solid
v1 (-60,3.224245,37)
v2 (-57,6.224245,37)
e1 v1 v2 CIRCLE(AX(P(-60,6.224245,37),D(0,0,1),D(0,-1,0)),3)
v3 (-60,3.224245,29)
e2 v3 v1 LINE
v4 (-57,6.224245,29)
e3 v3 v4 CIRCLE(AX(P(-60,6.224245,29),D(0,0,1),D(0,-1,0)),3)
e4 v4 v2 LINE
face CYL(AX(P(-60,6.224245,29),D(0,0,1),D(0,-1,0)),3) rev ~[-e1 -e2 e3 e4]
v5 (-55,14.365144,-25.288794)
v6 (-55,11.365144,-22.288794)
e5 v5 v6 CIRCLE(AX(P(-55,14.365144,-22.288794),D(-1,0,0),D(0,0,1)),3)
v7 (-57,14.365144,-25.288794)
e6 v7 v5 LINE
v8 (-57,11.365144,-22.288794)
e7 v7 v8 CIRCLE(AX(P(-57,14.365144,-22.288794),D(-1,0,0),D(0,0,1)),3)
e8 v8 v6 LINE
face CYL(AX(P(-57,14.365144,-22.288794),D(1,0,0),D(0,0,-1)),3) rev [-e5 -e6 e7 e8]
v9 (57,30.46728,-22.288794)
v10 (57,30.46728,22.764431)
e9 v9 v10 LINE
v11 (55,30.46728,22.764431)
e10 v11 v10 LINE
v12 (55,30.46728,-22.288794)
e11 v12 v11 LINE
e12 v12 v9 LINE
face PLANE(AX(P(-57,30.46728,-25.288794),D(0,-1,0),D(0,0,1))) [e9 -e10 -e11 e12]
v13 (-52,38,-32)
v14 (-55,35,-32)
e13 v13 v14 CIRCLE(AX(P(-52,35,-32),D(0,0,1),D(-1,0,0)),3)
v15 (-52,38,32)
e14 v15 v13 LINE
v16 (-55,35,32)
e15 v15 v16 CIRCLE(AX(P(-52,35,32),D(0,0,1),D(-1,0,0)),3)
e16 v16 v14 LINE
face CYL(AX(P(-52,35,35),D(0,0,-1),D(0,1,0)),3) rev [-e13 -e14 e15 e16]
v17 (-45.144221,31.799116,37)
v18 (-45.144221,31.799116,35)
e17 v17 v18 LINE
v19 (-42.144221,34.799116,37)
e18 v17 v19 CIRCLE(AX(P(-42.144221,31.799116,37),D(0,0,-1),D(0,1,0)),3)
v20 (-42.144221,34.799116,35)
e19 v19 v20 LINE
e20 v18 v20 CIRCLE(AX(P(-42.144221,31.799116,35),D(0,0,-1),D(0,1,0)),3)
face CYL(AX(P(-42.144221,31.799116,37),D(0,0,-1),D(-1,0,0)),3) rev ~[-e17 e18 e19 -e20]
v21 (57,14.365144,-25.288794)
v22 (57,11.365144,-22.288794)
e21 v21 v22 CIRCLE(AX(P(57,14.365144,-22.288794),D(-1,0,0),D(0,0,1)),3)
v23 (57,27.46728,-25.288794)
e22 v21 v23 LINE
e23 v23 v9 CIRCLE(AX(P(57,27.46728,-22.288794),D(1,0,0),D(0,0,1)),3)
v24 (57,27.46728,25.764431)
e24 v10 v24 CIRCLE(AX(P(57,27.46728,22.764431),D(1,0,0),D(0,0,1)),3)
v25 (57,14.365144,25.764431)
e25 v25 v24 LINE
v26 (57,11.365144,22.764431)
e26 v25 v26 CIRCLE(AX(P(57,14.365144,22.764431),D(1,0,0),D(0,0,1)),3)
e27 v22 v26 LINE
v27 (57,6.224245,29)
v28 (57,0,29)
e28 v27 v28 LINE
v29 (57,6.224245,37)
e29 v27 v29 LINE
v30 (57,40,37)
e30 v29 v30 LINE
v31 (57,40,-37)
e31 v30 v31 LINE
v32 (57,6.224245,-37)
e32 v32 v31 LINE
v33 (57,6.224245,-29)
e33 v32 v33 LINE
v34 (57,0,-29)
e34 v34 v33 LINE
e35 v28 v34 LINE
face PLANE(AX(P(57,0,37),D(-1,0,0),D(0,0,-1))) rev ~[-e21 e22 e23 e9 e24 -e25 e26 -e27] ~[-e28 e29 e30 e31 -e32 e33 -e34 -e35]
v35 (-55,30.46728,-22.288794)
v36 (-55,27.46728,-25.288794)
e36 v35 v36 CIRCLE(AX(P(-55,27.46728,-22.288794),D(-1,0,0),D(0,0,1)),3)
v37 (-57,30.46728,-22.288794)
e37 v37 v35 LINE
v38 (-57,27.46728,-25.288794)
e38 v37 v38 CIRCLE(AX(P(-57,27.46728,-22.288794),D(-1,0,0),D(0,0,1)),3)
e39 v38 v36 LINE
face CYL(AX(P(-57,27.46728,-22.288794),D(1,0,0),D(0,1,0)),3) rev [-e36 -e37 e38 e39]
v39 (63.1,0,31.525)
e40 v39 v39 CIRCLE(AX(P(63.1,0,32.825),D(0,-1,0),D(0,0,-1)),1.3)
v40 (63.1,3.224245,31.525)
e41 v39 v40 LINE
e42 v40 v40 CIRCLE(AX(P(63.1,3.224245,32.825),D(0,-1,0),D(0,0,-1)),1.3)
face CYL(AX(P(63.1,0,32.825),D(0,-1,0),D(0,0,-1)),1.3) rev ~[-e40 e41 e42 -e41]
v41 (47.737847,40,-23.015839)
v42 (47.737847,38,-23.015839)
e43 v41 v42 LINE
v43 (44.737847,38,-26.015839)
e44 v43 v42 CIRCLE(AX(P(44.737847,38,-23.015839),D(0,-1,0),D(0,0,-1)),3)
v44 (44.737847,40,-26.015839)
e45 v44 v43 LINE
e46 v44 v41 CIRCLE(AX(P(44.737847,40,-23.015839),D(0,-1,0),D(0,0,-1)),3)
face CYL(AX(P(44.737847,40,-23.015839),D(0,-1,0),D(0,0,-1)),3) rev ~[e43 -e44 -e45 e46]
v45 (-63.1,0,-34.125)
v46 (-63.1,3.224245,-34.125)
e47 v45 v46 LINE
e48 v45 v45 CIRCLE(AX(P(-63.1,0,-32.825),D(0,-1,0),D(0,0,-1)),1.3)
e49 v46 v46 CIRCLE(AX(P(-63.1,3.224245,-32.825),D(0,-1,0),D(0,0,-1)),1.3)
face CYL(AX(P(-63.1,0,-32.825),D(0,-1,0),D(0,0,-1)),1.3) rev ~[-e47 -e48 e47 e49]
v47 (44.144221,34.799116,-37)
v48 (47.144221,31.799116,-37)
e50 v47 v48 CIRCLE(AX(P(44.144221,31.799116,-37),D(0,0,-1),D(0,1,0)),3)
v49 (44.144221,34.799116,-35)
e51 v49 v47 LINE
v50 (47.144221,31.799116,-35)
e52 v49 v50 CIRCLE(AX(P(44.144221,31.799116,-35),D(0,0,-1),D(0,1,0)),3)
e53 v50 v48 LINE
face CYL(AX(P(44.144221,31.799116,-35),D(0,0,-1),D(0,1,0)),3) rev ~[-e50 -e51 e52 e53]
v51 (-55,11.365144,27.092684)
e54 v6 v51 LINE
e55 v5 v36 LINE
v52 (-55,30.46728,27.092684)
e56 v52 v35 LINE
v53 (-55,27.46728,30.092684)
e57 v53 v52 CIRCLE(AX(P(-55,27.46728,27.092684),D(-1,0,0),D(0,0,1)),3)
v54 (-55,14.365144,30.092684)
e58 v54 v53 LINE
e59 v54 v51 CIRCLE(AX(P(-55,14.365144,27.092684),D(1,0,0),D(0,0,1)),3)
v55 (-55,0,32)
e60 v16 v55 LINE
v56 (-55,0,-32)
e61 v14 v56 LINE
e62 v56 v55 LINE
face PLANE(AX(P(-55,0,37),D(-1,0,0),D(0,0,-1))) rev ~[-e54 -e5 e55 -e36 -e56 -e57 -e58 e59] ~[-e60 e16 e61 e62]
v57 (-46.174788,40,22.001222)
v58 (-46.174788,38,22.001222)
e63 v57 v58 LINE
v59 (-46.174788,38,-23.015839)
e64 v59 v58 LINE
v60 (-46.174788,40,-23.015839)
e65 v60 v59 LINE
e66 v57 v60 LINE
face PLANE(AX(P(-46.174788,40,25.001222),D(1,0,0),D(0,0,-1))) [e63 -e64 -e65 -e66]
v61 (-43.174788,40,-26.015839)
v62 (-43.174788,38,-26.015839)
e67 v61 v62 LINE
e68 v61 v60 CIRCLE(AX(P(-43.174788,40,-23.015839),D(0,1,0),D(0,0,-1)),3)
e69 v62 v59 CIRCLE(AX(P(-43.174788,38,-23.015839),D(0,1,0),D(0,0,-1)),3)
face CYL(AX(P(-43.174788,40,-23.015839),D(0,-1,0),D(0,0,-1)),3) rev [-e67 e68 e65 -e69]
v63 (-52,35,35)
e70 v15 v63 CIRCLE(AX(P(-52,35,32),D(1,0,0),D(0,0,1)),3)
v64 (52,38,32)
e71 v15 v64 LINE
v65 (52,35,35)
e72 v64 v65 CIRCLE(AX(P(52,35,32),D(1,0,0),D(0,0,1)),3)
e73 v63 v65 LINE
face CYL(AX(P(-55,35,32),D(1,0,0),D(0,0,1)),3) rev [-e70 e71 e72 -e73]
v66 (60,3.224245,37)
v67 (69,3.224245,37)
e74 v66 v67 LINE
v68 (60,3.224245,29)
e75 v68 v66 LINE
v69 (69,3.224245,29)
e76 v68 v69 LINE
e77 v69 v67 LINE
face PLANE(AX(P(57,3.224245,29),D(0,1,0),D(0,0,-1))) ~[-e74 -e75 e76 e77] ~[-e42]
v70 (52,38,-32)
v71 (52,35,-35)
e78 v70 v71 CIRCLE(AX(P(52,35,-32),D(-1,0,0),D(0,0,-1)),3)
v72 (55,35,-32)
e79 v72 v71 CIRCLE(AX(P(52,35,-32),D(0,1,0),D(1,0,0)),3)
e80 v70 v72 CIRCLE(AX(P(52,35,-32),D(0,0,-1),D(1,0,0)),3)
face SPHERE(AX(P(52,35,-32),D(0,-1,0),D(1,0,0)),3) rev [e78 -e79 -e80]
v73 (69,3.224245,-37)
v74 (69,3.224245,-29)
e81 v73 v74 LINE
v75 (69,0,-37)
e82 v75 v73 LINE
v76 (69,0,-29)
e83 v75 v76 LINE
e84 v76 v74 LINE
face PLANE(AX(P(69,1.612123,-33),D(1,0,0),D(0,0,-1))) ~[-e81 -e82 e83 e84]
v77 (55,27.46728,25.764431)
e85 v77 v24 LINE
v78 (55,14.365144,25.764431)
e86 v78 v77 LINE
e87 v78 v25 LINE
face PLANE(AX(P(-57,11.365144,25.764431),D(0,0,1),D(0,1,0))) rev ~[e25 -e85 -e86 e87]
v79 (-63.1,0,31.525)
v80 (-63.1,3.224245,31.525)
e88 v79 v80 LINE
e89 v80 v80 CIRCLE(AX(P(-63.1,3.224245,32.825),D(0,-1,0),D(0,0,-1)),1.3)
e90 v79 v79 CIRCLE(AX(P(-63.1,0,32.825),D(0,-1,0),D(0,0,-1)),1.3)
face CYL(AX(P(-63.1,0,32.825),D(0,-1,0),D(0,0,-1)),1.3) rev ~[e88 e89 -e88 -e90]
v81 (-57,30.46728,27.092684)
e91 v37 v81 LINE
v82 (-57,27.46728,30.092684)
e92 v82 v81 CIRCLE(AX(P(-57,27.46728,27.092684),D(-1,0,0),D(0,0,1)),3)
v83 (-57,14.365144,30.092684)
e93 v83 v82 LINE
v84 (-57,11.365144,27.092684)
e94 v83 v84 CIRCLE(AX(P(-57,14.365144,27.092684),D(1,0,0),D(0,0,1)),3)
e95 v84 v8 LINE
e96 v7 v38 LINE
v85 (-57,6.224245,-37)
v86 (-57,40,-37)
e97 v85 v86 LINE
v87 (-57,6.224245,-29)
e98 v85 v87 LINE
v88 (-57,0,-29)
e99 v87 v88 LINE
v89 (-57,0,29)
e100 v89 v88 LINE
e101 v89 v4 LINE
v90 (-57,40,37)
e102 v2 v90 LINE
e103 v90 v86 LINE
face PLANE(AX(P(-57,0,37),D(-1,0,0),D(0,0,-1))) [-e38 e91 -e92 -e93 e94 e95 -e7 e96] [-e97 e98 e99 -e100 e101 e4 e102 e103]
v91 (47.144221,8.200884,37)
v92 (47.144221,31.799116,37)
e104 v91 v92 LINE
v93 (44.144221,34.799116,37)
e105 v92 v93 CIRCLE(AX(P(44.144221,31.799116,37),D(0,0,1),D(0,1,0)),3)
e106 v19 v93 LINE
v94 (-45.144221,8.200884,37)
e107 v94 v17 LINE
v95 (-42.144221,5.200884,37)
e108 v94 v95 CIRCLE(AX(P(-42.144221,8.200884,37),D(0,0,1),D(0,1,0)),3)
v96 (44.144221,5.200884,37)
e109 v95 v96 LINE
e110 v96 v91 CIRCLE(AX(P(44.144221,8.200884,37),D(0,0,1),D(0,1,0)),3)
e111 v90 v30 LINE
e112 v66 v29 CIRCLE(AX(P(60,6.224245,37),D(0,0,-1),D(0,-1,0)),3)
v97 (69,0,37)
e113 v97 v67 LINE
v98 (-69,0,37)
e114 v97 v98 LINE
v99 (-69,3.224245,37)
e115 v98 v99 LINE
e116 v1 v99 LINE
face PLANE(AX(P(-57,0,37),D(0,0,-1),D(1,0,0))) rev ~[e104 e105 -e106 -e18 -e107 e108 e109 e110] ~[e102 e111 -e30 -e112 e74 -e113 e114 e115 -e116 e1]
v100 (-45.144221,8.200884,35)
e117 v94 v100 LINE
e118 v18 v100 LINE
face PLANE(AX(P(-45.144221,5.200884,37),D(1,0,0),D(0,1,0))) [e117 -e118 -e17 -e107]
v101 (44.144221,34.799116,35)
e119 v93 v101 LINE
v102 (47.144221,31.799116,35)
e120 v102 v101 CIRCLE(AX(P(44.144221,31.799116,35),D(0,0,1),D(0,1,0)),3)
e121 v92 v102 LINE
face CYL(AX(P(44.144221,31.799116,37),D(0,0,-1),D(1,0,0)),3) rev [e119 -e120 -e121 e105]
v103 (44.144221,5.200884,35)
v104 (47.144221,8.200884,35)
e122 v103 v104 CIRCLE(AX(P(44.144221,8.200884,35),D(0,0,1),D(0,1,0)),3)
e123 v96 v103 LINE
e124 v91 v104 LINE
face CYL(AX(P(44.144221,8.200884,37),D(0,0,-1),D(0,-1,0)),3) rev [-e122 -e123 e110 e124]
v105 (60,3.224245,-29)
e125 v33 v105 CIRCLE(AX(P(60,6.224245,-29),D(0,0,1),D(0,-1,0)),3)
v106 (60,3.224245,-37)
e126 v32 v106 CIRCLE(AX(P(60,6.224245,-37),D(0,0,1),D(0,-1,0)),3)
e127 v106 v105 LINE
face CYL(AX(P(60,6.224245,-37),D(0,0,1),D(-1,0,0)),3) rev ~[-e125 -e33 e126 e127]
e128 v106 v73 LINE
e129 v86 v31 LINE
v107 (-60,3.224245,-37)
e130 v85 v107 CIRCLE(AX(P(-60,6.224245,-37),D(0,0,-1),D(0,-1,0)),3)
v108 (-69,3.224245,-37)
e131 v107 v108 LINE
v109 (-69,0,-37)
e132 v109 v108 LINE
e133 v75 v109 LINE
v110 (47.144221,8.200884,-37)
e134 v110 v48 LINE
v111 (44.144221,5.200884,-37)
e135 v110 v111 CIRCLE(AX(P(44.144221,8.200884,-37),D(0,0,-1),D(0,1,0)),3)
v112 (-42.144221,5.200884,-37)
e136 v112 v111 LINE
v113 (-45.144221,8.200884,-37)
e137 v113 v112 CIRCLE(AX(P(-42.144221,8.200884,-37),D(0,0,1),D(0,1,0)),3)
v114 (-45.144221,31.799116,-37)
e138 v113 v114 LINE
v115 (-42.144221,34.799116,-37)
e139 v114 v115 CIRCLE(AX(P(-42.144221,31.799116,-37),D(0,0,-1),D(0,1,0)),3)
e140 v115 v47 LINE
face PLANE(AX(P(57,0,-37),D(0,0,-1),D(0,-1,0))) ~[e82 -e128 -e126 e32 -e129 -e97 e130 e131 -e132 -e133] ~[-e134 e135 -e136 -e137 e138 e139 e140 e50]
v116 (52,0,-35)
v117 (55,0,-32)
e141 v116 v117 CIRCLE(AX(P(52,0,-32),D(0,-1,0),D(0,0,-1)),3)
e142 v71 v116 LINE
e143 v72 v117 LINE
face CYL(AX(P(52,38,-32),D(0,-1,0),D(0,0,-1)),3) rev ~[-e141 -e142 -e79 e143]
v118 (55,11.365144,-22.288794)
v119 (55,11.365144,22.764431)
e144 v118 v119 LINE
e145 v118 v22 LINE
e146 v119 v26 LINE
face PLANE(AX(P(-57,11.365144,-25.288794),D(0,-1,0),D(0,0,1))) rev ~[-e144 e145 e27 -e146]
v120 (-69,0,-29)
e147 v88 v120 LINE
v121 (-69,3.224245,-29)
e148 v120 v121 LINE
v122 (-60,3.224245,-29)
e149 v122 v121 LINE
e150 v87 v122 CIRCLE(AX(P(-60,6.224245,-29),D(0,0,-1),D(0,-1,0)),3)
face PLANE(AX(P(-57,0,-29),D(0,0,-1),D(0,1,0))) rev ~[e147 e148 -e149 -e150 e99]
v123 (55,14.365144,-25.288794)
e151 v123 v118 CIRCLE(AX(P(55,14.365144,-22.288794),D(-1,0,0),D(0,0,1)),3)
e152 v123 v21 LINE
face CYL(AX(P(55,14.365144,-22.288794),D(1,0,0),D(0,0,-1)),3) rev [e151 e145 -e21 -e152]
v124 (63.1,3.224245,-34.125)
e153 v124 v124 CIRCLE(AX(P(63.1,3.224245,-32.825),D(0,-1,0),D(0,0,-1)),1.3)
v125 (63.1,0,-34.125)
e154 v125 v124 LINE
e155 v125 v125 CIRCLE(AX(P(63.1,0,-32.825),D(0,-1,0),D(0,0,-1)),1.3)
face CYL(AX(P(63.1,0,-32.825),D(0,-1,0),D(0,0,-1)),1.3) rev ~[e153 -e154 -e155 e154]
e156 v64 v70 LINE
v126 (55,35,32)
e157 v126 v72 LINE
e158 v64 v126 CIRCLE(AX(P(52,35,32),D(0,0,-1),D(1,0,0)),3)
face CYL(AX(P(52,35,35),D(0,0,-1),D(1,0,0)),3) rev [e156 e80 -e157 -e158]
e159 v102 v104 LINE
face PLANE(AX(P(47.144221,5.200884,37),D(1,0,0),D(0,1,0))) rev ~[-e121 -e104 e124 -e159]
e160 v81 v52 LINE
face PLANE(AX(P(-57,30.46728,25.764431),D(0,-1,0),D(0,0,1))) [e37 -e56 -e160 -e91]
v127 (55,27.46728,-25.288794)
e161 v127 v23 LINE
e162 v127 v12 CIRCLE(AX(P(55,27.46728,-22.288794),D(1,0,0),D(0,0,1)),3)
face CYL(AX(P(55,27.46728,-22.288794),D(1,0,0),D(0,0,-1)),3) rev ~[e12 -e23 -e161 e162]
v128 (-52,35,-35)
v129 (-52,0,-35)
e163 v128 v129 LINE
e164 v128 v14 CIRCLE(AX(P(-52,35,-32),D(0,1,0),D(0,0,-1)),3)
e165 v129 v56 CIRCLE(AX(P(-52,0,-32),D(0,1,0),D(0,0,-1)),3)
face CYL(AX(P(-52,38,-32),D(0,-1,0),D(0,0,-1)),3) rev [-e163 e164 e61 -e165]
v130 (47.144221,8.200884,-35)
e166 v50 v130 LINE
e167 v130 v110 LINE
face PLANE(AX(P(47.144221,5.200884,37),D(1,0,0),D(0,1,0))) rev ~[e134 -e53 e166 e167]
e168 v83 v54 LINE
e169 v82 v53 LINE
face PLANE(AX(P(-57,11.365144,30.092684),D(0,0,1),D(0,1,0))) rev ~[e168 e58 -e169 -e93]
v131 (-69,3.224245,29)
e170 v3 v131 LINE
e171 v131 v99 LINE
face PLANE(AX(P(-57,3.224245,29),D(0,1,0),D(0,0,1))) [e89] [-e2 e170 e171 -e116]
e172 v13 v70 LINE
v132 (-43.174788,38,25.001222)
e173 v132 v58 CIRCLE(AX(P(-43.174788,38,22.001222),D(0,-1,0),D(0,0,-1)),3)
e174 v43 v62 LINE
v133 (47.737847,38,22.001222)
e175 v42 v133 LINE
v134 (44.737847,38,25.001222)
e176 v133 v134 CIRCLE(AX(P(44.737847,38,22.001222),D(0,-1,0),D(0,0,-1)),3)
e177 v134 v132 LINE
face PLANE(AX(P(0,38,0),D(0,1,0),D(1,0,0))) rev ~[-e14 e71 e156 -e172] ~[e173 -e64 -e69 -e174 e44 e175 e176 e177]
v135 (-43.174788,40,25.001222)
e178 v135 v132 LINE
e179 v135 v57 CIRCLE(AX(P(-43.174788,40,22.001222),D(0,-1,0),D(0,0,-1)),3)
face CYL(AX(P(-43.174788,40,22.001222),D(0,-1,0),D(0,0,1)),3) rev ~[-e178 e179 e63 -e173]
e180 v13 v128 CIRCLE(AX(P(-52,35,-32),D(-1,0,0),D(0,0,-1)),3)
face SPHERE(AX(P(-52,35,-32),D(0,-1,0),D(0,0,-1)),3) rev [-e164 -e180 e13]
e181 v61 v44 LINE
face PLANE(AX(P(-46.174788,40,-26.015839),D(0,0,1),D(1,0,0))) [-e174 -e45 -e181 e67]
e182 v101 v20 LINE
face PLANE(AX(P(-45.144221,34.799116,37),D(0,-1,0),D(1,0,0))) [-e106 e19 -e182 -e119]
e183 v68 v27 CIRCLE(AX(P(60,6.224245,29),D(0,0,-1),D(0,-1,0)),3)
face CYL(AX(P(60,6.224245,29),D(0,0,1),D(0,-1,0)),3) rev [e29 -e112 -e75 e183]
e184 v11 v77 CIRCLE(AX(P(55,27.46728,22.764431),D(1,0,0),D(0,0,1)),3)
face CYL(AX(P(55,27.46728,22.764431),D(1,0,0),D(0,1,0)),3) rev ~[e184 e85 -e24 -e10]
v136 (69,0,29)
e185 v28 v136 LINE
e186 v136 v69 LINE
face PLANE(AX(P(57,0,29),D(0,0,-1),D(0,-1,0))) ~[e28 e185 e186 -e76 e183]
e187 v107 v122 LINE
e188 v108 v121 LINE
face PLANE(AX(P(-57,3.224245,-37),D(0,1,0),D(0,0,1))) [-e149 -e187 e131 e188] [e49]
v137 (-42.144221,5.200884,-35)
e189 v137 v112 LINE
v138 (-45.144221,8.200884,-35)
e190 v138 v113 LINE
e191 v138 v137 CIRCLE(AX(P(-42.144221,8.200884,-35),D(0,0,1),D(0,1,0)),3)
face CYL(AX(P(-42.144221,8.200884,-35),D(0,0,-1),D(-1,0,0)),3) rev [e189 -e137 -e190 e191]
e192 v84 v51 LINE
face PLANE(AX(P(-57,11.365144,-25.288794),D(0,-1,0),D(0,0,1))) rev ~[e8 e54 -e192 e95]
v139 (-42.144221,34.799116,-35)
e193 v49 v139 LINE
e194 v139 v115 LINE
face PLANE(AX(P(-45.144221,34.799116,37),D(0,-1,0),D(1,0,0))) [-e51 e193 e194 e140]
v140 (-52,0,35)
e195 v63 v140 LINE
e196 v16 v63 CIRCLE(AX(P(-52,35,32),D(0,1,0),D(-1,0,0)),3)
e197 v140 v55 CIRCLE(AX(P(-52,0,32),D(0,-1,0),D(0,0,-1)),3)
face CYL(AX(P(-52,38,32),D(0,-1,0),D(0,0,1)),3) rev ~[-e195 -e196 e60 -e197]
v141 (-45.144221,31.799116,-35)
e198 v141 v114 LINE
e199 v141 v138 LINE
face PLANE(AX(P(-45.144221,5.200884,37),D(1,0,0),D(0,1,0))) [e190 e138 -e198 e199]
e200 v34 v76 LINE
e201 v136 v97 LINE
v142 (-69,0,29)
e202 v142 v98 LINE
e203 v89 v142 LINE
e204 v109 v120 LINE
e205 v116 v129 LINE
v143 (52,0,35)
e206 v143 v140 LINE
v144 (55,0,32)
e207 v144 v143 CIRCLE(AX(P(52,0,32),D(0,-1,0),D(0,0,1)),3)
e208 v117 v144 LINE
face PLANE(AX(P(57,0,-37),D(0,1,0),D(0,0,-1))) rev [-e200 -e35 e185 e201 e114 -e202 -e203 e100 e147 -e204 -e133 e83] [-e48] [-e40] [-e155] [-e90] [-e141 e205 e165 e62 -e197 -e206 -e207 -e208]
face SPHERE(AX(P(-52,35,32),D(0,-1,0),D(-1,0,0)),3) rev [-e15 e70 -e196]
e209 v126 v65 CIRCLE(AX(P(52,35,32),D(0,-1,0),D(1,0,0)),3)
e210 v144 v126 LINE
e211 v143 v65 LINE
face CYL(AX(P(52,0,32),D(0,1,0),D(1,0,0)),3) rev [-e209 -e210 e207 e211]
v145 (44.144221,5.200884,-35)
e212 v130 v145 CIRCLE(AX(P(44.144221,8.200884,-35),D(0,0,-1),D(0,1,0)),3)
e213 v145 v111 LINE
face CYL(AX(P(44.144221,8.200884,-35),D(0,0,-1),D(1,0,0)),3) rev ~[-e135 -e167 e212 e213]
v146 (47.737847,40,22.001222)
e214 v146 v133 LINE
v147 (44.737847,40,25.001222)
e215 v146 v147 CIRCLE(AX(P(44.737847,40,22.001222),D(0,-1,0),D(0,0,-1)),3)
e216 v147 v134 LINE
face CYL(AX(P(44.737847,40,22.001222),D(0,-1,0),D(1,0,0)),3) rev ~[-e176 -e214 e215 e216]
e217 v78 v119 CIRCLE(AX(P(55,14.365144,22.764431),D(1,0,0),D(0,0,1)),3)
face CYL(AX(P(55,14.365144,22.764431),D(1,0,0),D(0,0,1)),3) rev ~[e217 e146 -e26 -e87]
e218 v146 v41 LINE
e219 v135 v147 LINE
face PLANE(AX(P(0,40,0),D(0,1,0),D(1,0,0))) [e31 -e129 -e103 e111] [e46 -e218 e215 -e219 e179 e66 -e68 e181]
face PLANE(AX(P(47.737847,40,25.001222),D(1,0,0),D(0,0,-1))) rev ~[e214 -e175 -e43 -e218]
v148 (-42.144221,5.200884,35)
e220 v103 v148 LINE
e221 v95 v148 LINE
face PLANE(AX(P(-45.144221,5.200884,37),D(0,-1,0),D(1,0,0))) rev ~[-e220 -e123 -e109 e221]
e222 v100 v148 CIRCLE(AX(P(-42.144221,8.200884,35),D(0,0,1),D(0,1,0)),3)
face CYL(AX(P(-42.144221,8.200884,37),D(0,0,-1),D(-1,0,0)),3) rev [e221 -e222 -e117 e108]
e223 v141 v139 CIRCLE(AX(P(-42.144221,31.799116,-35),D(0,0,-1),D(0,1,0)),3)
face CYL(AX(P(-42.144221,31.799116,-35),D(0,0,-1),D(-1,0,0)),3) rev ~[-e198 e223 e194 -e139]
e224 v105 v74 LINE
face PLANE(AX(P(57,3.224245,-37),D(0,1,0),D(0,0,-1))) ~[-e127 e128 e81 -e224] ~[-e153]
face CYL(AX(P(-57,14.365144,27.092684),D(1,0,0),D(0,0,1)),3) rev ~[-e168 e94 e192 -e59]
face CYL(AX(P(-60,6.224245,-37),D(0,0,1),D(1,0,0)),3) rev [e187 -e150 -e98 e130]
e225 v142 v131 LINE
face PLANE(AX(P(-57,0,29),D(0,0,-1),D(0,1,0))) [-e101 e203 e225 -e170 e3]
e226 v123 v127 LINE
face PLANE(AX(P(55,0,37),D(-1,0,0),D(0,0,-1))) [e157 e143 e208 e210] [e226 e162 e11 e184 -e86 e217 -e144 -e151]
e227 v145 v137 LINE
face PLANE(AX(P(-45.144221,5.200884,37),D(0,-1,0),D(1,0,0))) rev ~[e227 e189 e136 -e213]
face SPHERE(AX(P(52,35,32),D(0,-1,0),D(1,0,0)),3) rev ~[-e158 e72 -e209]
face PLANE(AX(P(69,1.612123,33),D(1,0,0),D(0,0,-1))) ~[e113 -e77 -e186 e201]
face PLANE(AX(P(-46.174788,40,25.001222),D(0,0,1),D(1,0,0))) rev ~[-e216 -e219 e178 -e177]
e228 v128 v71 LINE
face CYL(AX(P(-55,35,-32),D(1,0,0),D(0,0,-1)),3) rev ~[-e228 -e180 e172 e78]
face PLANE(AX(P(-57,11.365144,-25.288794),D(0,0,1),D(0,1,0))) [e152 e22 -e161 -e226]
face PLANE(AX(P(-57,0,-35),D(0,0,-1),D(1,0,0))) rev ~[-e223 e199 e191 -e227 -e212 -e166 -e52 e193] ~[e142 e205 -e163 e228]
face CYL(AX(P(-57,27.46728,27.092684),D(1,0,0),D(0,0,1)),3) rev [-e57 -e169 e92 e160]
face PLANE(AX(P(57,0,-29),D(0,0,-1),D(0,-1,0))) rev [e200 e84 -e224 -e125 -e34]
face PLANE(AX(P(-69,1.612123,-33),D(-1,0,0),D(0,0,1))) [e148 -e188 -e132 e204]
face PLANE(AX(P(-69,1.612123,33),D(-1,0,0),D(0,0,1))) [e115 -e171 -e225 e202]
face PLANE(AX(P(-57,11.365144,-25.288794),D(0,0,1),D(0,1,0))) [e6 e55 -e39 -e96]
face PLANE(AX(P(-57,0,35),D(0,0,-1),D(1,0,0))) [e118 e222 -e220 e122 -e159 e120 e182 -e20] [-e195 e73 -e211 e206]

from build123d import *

# Parameters (mm, degrees)
SKETCH1_W           = 114
SKETCH1_H           = 74
BOSS_EXTRUDE1_DEPTH = 40
SHELL1_T            = -2
SKETCH2_W           = 8
SKETCH2_H           = 3.224245312
BOSS_EXTRUDE2_DEPTH = 12
CUT_EXTRUDE1_REACH  = 89.92
SKETCH3_W           = 93.912635184
SKETCH3_H           = 51.017060478
SKETCH4_W           = 51.053224202
SKETCH4_H           = 19.102136622
CUT_EXTRUDE2_DEPTH  = 138.277092044
SKETCH5_W           = 92.288442818
SKETCH5_H           = 29.598231076
CUT_EXTRUDE3_DEPTH  = 109.797977922
SKETCH6_W           = 4.328253691
SKETCH6_H           = 19.102136622
CUT_EXTRUDE4_DEPTH  = 12
FILLET1_R           = 3
SKETCH7_R           = 1.3
CUT_EXTRUDE5_DEPTH  = 12


with BuildPart() as part:
    # Sketch1 → Boss-Extrude1 (new body)
    with BuildSketch(Plane(origin=(0, 0, 0), x_dir=(1, 0, 0), z_dir=(0, 1, 0))):
        Rectangle(SKETCH1_W, SKETCH1_H)
    extrude(amount=BOSS_EXTRUDE1_DEPTH)

    # Shell1
    shell1_openings = [part.faces().sort_by_distance(p)[0] for p in [
        (0, 0, 0),
    ]]
    offset(amount=SHELL1_T, openings=shell1_openings, kind=Kind.INTERSECTION)

    # Sketch2 → Boss-Extrude2 (add)
    with BuildSketch(Plane.ZY.offset(57)):
        with Locations((-33, 1.612122656)):
            Rectangle(SKETCH2_W, SKETCH2_H)
        with Locations((33, 1.612122656)):
            Rectangle(SKETCH2_W, SKETCH2_H)
    boss_extrude2 = extrude(amount=BOSS_EXTRUDE2_DEPTH)

    # Mirror1: Boss-Extrude2 across plane
    add(boss_extrude2.mirror(Plane.ZY))

    # Sketch3 → Cut-Extrude1 (cut, up to next)
    with BuildSketch(Plane(origin=(0, 40, 0), x_dir=(1, 0, 0), z_dir=(0, 1, 0)), mode=Mode.PRIVATE) as cut_extrude1_sk1:
        with Locations((0.781529231, 0.507308448)):
            Rectangle(SKETCH3_W, SKETCH3_H)
    cut_extrude1_tool1 = extrude(cut_extrude1_sk1.sketch, amount=-CUT_EXTRUDE1_REACH, mode=Mode.PRIVATE) & part.part
    add(cut_extrude1_tool1.solids().sort_by_distance((0.781529, 40, -0.507308))[0], mode=Mode.SUBTRACT)

    # Sketch4 → Cut-Extrude2 (cut, through all)
    with BuildSketch(Plane.ZY.offset(57)):
        with Locations((0.2378186, 20.916211941)):
            Rectangle(SKETCH4_W, SKETCH4_H)
    extrude(amount=-CUT_EXTRUDE2_DEPTH, mode=Mode.SUBTRACT)

    # Sketch5 → Cut-Extrude3 (cut, through all)
    with BuildSketch(Plane.XY.offset(37)):
        with Locations((1, 20)):
            Rectangle(SKETCH5_W, SKETCH5_H)
    extrude(amount=-CUT_EXTRUDE3_DEPTH, mode=Mode.SUBTRACT)

    # Sketch6 → Cut-Extrude4 (cut)
    with BuildSketch(Plane.ZY.offset(57)):
        with Locations((27.928557547, 20.916211941)):
            Rectangle(SKETCH6_W, SKETCH6_H)
    extrude(amount=-CUT_EXTRUDE4_DEPTH, mode=Mode.SUBTRACT)

    # Fillet1
    fillet1_edges = [part.edges().sort_by_distance(p)[0] for p in [
        (47.144221409, 34.799115538, -36),
        (47.144221409, 5.200884462, -36),
        (-45.144221409, 5.200884462, -36),
        (-45.144221409, 34.799115538, -36),
        (47.144221409, 34.799115538, 36),
        (47.144221409, 5.200884462, 36),
        (-45.144221409, 5.200884462, 36),
        (-45.144221409, 34.799115538, 36),
        (-56, 30.467280252, 30.092684392),
        (-56, 11.36514363, 30.092684392),
        (55, 19, 35),
        (55, 19, -35),
        (-55, 19, -35),
        (-55, 19, 35),
        (55, 38, 0),
        (0, 38, -35),
        (-55, 38, 0),
        (0, 38, 35),
        (-57, 3.224245312, -33),
        (-57, 3.224245312, 33),
        (57, 3.224245312, -33),
        (57, 3.224245312, 33),
        (-46.174788361, 39, 25.001221791),
        (-46.174788361, 39, -26.015838687),
        (47.737846823, 39, -26.015838687),
        (47.737846823, 39, 25.001221791),
        (56, 30.467280252, 25.764430701),
        (56, 11.36514363, 25.764430701),
        (56, 11.36514363, -25.288793501),
        (56, 30.467280252, -25.288793501),
        (-56, 11.36514363, -25.288793501),
        (-56, 30.467280252, -25.288793501),
    ]]
    fillet(fillet1_edges, radius=FILLET1_R)

    # Sketch7 → Cut-Extrude5 (cut)
    with BuildSketch(Plane.XZ):
        with Locations(Location((-63.1, -32.825, 0), (0, 0, 270))):
            Circle(SKETCH7_R)
        with Locations(Location((-63.1, 32.825, 0), (0, 0, 270))):
            Circle(SKETCH7_R)
        with Locations(Location((63.1, 32.825, 0), (0, 0, 270))):
            Circle(SKETCH7_R)
        with Locations(Location((63.1, -32.825, 0), (0, 0, 270))):
            Circle(SKETCH7_R)
    extrude(amount=-CUT_EXTRUDE5_DEPTH, mode=Mode.SUBTRACT)


solid = part.part
